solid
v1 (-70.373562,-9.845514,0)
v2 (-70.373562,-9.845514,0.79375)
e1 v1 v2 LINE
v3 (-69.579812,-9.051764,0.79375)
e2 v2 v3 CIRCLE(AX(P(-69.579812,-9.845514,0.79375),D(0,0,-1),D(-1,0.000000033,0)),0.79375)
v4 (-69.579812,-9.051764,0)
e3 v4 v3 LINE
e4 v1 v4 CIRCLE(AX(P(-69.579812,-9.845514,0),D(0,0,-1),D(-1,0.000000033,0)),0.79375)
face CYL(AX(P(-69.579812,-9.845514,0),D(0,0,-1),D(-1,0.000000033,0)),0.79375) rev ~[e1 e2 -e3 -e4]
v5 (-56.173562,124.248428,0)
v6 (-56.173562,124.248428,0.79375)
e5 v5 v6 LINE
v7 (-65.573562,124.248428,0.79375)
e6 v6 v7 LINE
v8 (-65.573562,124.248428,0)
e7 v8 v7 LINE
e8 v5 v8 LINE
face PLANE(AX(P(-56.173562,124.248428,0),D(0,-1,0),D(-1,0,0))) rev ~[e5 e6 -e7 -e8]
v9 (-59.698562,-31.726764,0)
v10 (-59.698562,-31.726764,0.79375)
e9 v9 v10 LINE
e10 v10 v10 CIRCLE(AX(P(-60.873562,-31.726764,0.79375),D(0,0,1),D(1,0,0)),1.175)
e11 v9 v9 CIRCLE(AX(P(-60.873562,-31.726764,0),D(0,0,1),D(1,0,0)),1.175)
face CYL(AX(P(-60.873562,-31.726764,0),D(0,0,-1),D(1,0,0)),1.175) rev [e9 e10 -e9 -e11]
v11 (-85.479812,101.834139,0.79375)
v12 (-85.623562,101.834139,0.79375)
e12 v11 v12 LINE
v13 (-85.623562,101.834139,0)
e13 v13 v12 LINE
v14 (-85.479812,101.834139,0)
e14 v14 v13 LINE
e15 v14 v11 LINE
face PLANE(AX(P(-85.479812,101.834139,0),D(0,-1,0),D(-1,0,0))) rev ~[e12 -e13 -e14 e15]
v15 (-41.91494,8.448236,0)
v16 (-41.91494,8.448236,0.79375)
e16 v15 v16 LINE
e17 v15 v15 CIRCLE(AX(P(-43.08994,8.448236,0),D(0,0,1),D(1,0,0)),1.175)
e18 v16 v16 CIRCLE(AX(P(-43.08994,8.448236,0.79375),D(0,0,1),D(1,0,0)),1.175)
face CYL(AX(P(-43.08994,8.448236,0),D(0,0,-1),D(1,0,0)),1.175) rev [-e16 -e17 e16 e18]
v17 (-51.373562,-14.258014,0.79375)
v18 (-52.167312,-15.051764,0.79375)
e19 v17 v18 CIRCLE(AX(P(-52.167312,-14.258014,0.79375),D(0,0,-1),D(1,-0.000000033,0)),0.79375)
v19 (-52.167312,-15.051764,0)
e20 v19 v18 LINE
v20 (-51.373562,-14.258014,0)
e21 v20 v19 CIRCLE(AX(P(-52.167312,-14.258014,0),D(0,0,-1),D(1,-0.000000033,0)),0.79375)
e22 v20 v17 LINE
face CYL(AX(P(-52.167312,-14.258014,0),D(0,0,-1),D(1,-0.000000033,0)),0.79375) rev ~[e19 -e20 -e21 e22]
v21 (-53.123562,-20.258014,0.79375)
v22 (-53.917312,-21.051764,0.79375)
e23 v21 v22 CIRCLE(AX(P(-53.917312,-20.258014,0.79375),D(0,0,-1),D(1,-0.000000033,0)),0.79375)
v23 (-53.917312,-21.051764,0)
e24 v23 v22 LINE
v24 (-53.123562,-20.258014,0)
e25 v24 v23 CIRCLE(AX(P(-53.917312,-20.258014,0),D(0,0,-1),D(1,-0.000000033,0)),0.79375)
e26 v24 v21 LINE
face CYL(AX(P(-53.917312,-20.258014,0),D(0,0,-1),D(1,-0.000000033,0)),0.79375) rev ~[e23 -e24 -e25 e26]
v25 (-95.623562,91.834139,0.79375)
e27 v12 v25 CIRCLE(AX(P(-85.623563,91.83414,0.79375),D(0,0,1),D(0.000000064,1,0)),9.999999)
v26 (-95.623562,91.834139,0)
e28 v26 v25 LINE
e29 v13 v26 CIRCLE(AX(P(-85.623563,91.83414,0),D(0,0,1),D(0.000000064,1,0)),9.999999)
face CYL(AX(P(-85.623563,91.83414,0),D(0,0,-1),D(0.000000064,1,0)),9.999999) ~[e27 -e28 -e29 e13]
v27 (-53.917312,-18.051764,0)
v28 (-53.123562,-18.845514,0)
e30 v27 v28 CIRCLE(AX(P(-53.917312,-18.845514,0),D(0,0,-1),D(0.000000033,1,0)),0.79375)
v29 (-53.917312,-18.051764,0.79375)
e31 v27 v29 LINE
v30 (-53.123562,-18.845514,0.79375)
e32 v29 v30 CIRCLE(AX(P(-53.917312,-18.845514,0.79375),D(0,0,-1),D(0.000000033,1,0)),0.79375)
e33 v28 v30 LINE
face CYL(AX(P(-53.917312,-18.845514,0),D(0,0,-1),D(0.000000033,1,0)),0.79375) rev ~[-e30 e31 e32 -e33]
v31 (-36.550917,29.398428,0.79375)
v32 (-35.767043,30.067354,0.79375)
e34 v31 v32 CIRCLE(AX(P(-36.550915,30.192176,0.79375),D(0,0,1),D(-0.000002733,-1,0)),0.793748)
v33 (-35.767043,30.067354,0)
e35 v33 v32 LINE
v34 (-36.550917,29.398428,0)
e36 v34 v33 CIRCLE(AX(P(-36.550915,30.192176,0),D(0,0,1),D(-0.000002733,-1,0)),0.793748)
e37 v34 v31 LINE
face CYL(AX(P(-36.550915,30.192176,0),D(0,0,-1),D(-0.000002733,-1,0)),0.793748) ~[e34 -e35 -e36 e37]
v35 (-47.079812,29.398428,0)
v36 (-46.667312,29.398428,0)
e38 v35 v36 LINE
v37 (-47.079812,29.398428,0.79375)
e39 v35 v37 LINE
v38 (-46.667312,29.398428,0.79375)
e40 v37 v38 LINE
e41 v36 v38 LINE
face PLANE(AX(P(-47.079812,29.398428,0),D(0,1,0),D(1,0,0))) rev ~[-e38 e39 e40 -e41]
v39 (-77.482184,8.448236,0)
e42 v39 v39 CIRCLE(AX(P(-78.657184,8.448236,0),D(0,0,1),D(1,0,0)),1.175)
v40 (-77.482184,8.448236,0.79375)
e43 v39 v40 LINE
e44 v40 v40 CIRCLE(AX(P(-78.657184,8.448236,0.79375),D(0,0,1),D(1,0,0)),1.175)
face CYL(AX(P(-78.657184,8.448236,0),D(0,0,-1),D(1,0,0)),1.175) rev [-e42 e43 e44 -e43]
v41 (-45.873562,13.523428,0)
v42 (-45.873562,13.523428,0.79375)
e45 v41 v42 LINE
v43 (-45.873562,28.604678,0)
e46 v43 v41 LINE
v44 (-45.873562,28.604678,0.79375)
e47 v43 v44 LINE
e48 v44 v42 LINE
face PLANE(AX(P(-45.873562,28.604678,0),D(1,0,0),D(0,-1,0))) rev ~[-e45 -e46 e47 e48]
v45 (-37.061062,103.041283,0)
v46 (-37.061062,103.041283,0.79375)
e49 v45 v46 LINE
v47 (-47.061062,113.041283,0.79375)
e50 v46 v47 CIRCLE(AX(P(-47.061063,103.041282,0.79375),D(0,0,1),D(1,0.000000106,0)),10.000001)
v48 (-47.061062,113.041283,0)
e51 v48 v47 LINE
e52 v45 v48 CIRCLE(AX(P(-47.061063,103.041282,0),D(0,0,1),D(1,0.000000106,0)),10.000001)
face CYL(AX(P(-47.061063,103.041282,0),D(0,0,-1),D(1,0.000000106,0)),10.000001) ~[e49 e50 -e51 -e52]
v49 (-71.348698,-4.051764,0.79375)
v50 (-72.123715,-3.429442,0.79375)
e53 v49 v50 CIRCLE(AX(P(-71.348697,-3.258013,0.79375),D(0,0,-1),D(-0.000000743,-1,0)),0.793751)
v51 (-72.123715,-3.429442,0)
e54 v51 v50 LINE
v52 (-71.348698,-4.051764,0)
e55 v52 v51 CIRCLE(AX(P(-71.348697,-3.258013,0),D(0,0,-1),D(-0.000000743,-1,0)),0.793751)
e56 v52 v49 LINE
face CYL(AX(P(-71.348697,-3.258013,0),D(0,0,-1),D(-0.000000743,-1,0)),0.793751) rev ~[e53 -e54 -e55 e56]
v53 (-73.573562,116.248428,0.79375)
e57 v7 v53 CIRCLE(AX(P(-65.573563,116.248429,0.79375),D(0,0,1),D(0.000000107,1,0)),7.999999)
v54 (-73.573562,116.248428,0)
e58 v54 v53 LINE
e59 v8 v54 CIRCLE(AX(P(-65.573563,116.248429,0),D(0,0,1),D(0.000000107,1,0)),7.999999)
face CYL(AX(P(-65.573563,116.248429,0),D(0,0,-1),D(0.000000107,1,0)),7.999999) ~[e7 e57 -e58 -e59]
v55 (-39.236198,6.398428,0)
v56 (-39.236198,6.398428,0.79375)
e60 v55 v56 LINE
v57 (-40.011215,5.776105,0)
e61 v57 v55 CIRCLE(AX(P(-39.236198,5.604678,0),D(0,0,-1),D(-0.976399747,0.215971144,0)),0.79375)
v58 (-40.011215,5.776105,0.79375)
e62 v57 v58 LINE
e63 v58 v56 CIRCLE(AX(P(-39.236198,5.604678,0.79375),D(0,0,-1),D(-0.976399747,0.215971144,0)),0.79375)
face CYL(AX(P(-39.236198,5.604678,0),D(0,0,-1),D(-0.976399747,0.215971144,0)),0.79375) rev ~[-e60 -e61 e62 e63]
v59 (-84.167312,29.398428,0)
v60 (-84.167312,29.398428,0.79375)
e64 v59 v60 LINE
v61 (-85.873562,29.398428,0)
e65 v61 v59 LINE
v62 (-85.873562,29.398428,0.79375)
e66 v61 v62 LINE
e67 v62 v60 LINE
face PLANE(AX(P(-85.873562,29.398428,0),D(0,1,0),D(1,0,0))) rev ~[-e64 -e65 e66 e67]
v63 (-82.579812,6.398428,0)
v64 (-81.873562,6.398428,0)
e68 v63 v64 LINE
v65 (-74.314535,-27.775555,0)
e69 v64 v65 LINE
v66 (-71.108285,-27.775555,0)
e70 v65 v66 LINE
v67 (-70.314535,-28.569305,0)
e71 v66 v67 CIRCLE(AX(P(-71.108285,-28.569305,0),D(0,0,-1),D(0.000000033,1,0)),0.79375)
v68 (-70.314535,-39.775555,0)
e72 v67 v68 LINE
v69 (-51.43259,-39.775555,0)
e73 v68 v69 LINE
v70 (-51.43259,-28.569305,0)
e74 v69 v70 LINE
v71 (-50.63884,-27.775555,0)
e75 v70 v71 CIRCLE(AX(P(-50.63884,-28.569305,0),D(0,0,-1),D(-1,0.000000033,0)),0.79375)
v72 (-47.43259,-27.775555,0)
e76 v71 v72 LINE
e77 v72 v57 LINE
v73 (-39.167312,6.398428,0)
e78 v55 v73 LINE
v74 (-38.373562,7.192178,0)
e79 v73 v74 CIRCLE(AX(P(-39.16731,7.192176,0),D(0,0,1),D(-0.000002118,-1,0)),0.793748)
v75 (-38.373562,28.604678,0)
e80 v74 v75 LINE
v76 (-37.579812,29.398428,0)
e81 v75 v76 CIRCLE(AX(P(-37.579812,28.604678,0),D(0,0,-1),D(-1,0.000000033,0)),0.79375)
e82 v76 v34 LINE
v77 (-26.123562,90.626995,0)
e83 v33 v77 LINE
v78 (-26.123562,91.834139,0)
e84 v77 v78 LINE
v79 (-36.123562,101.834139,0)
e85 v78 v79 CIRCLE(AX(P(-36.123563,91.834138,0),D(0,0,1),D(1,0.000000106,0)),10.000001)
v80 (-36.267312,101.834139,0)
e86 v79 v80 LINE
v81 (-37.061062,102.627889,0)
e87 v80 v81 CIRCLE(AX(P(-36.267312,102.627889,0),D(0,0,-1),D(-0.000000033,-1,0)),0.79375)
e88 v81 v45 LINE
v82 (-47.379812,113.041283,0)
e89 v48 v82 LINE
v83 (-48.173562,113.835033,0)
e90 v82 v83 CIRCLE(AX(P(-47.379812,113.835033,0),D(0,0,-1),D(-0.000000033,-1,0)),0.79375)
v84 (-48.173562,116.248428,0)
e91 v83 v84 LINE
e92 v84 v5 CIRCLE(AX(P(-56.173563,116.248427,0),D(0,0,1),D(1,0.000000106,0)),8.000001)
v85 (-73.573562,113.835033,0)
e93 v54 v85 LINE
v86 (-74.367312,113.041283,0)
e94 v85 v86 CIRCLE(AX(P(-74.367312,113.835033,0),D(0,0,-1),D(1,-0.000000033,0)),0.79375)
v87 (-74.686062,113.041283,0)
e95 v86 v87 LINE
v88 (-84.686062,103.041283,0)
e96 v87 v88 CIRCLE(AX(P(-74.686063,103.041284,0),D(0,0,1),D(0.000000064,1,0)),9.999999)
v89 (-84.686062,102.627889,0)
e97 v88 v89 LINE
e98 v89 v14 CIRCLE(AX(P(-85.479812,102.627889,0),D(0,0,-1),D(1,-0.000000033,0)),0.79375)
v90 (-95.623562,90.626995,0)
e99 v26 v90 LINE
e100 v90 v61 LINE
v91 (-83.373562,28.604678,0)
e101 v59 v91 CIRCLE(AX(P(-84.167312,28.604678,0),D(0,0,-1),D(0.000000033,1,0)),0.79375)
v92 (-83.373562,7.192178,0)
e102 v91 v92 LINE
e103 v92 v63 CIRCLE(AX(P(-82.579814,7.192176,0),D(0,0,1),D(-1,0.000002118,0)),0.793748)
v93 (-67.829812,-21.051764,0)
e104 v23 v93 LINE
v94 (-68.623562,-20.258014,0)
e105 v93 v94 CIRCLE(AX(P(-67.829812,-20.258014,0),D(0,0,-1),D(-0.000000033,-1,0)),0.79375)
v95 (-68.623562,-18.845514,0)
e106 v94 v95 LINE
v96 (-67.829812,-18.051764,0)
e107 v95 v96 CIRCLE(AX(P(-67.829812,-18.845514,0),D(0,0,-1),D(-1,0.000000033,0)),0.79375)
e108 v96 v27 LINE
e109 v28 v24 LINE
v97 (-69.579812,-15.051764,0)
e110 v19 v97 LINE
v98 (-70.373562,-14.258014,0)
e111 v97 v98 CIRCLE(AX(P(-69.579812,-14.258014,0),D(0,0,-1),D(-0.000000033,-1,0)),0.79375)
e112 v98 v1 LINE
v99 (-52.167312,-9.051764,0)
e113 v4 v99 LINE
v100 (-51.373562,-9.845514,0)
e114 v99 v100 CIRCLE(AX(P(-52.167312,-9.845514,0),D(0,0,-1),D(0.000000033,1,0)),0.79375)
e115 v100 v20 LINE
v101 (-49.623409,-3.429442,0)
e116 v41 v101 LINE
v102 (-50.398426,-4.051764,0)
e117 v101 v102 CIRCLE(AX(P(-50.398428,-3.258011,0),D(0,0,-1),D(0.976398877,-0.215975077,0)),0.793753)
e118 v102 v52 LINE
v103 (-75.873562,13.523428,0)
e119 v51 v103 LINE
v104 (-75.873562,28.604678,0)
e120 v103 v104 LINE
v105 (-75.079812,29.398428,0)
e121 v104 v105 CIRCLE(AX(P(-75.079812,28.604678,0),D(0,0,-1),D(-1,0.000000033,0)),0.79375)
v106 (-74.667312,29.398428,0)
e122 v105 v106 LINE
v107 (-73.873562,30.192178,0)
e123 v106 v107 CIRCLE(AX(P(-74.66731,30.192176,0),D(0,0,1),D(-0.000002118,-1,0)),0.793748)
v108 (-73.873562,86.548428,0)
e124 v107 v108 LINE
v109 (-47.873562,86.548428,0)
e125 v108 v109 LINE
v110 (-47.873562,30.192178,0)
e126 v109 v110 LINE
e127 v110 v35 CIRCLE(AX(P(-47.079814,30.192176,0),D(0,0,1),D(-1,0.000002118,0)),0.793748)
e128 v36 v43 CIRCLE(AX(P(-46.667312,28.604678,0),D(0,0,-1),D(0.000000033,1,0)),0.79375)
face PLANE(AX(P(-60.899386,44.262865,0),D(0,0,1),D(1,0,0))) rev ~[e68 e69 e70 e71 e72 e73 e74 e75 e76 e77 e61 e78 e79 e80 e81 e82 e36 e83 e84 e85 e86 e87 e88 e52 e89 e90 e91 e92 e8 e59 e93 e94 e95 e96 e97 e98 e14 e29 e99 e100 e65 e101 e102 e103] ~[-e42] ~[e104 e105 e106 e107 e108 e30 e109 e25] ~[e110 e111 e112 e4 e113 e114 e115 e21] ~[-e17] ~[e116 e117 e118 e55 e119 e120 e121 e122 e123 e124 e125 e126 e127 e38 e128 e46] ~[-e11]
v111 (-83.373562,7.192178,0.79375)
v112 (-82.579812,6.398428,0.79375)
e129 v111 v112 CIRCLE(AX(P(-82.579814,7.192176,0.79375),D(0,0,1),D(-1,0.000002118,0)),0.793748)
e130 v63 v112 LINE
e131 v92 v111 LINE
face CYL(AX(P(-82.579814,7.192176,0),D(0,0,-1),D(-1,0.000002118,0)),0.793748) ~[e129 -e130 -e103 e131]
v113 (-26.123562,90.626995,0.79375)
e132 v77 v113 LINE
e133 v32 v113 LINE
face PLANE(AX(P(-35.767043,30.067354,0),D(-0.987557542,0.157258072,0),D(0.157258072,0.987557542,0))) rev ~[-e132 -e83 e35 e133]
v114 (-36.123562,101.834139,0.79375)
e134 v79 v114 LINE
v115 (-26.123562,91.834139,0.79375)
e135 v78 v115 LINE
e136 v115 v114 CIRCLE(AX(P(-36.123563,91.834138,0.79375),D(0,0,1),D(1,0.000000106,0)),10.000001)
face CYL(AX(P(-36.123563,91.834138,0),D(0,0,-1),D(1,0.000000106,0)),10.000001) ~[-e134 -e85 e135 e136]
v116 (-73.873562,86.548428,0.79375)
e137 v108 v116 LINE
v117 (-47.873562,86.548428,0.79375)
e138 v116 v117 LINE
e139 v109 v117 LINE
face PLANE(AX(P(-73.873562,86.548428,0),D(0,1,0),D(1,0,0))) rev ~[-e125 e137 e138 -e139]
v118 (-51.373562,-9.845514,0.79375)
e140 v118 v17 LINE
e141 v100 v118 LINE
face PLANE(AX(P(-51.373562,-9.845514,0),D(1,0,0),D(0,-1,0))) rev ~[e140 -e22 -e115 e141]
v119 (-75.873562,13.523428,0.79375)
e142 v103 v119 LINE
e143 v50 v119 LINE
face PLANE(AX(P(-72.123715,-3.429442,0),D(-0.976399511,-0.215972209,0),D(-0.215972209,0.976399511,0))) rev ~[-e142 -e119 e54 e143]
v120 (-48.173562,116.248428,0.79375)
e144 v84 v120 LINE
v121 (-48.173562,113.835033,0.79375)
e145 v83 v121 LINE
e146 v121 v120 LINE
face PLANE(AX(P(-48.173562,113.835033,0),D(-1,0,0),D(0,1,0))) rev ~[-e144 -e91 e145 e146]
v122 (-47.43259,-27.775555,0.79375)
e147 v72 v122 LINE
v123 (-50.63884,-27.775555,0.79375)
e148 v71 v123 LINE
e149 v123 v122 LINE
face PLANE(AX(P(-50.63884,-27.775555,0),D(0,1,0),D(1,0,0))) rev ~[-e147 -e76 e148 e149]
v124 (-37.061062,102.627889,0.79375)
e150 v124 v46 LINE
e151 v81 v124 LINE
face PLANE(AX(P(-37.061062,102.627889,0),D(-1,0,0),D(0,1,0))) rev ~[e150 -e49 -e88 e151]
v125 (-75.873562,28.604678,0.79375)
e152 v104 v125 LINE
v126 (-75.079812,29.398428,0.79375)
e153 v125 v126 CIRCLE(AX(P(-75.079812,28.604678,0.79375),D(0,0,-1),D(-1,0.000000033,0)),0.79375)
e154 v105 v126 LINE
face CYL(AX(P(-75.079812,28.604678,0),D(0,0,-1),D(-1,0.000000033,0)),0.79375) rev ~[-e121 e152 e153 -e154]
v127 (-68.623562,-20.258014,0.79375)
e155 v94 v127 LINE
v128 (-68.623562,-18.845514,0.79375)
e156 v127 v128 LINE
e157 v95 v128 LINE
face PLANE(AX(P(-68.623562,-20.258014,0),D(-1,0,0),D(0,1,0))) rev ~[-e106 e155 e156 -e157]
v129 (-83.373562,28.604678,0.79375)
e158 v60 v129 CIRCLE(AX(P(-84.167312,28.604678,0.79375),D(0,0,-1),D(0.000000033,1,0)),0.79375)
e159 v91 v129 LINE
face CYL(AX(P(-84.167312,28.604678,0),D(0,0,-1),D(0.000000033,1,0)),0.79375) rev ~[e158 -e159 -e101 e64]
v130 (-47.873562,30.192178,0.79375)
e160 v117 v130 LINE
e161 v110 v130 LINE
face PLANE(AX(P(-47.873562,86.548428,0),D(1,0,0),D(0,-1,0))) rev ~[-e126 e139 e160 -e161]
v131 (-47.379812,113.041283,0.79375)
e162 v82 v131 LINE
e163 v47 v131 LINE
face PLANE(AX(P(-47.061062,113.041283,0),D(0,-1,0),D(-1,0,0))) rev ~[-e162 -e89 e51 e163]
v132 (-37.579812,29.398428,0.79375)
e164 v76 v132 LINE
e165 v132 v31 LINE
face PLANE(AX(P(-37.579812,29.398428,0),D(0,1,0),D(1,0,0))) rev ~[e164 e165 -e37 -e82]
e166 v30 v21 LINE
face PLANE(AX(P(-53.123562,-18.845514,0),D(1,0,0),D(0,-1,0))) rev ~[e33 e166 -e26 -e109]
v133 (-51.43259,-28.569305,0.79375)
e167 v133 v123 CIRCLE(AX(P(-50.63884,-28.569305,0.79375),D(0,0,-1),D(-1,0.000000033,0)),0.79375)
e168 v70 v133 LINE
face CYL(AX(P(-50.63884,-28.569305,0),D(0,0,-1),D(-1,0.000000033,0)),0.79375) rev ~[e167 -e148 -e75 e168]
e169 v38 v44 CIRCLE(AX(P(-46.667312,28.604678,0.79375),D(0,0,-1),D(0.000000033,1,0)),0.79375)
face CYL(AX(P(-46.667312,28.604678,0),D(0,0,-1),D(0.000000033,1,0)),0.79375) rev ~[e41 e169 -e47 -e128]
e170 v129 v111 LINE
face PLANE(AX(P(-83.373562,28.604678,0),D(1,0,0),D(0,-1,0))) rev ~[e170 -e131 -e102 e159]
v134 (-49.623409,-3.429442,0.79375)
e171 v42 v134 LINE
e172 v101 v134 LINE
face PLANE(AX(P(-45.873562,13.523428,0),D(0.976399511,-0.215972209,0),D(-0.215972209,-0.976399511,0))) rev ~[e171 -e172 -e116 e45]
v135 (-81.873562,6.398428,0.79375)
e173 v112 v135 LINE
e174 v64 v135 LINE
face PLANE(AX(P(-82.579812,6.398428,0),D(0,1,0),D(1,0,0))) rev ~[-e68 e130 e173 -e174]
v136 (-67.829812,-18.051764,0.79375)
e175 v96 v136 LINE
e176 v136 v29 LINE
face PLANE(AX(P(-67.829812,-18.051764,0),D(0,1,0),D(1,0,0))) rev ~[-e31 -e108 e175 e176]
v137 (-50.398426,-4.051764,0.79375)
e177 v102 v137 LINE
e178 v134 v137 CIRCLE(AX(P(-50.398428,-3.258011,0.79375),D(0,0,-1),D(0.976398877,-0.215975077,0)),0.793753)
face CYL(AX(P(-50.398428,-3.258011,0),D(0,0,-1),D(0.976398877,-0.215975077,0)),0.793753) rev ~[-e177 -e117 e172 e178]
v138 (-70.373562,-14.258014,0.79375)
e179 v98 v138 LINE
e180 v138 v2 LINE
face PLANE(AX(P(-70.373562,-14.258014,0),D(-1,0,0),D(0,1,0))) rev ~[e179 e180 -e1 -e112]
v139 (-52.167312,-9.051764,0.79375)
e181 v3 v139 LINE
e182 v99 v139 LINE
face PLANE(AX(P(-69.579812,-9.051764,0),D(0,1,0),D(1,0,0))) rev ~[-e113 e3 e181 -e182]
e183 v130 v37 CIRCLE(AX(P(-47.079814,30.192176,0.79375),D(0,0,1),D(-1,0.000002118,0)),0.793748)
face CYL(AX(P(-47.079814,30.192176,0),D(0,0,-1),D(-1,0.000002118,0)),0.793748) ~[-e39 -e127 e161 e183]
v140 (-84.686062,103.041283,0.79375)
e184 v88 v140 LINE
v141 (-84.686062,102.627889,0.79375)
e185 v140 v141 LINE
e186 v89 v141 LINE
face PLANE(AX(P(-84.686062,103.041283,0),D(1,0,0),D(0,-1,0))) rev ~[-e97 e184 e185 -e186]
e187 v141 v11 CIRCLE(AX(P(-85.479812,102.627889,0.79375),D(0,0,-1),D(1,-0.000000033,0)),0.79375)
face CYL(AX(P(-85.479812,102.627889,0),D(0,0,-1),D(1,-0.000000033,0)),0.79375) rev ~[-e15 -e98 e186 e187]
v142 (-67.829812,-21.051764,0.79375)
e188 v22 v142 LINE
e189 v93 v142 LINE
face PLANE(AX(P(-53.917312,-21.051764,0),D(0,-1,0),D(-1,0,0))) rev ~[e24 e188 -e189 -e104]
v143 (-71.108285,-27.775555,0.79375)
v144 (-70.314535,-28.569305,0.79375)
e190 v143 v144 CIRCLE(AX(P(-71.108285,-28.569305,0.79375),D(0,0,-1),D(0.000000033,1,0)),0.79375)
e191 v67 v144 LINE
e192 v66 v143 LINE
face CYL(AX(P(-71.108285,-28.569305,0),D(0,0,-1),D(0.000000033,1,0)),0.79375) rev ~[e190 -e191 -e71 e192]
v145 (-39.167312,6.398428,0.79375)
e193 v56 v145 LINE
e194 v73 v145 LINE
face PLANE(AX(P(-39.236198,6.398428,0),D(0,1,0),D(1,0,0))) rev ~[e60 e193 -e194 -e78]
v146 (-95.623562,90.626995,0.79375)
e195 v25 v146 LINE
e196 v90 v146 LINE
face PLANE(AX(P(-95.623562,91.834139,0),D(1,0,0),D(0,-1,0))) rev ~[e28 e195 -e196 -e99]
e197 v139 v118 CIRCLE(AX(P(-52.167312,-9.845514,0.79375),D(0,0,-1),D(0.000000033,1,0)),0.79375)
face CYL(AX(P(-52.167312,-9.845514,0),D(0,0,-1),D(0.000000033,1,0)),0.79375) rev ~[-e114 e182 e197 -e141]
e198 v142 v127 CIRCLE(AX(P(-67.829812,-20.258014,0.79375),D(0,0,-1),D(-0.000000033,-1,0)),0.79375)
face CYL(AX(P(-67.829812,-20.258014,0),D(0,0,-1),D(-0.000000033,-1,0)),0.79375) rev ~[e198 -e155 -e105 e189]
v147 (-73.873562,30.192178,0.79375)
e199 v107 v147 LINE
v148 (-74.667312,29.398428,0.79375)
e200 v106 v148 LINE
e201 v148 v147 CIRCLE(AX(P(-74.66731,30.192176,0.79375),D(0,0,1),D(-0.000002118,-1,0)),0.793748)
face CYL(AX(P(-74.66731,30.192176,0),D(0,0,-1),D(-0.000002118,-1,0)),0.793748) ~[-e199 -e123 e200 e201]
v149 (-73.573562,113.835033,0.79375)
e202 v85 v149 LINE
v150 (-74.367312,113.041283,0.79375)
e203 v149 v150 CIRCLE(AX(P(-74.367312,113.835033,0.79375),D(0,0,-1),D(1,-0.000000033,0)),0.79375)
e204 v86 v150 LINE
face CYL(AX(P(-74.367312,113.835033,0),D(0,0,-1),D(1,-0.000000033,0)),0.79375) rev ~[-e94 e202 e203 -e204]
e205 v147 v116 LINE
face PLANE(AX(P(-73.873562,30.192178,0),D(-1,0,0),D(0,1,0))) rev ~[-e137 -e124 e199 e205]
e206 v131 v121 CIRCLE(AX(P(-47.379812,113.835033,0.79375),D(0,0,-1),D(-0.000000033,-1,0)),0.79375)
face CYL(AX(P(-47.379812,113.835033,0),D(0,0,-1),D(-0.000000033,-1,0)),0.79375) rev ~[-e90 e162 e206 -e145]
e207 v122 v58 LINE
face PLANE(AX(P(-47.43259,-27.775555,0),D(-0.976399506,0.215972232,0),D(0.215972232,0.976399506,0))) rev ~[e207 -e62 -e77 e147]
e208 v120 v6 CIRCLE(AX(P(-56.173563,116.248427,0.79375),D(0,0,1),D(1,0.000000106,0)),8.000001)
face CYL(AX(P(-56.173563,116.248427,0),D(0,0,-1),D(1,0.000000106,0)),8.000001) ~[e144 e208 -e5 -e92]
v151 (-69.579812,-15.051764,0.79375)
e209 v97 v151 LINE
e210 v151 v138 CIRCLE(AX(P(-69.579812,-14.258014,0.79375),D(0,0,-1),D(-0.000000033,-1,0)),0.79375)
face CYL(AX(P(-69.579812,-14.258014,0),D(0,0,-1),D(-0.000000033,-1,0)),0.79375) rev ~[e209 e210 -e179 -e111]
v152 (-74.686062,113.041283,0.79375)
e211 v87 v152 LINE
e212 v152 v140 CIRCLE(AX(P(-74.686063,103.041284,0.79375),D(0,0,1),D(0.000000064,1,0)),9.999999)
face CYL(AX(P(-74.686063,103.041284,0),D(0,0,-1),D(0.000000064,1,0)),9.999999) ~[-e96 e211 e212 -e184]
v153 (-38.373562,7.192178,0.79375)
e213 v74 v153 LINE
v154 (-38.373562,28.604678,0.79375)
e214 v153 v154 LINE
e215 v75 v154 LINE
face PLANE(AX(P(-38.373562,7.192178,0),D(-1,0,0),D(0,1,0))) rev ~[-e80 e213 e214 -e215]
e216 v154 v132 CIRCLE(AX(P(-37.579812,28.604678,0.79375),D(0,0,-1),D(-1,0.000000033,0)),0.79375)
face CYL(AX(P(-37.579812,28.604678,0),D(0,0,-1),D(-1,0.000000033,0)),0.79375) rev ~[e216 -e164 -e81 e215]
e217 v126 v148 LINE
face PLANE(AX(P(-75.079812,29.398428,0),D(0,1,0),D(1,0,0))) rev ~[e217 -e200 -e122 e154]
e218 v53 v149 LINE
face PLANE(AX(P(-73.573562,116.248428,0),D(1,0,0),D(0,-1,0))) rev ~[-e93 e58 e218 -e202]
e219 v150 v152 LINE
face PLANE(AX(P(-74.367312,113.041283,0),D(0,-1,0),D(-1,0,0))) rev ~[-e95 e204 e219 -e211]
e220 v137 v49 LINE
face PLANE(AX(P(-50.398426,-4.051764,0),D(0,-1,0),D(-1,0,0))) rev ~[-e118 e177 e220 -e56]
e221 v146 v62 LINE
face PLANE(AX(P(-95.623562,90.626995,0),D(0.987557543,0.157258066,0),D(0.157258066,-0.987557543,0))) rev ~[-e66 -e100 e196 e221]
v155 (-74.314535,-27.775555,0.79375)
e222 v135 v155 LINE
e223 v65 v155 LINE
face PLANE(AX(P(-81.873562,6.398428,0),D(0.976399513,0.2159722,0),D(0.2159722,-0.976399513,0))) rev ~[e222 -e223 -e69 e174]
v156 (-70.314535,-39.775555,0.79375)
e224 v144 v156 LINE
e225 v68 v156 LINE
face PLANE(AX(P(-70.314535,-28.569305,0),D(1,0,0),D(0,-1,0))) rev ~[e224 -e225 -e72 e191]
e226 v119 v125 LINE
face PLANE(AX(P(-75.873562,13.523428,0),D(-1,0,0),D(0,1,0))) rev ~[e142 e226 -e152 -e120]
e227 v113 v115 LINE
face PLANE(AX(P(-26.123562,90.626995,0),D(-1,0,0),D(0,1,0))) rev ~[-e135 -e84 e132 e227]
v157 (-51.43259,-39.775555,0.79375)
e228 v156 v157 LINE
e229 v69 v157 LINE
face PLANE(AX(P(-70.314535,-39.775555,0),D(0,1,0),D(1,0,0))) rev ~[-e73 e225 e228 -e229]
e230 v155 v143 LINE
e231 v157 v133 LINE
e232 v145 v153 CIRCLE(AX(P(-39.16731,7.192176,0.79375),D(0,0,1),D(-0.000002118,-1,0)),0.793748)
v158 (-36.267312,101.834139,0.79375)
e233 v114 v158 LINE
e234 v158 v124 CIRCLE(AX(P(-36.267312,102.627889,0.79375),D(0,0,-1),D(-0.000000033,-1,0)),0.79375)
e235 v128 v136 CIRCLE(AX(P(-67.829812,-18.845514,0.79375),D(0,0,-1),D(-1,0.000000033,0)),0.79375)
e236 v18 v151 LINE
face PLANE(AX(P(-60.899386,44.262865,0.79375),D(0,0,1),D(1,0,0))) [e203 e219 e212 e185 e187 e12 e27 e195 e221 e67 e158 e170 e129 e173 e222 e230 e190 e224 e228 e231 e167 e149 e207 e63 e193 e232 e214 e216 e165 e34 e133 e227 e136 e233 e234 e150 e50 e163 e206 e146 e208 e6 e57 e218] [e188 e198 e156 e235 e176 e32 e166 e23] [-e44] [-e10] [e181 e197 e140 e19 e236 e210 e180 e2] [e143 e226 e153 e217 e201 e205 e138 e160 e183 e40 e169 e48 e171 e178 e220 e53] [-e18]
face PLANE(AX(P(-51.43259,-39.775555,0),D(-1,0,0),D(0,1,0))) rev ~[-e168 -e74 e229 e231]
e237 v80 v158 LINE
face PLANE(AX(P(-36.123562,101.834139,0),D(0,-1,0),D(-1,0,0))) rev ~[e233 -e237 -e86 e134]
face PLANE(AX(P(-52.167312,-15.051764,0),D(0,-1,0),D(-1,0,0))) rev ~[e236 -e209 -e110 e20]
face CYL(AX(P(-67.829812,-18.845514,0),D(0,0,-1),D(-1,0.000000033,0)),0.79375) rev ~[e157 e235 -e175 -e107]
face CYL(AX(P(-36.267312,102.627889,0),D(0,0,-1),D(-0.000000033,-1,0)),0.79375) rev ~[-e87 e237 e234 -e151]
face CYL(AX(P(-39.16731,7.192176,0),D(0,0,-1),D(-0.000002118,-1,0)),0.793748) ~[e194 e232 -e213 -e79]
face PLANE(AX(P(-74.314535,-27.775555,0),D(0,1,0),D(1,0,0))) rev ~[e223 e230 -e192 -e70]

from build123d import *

# Parameters (mm, degrees)
F0_R     = 1.175
F1_DEPTH = 0.79375


with BuildPart() as f1:
    # F0 (on Top) → F1 (new body)
    with BuildSketch(Plane.XY):
        with BuildLine():
            Line((-95.623562, 91.834139), (-95.623562, 90.626995))
            Line((-95.623562, 90.626995), (-85.873562, 29.398428))
            Line((-85.873562, 29.398428), (-84.167312, 29.398428))
            ThreePointArc((-84.167312, 29.398428), (-83.606046, 29.165944), (-83.373562, 28.604678))
            Line((-83.373562, 28.604678), (-83.373562, 7.192178))
            ThreePointArc((-83.373562, 7.192178), (-83.141078, 6.630911), (-82.579812, 6.398428))
            Line((-82.579812, 6.398428), (-81.873562, 6.398428))
            Line((-81.873562, 6.398428), (-74.314535, -27.775555))
            Line((-74.314535, -27.775555), (-71.108285, -27.775555))
            ThreePointArc((-71.108285, -27.775555), (-70.547019, -28.008039), (-70.314535, -28.569305))
            Line((-70.314535, -28.569305), (-70.314535, -39.775555))
            Line((-70.314535, -39.775555), (-51.43259, -39.775555))
            Line((-51.43259, -39.775555), (-51.43259, -28.569305))
            ThreePointArc((-51.43259, -28.569305), (-51.200106, -28.008039), (-50.63884, -27.775555))
            Line((-50.63884, -27.775555), (-47.43259, -27.775555))
            Line((-47.43259, -27.775555), (-40.011215, 5.776105))
            ThreePointArc((-40.011215, 5.776105), (-39.733173, 6.223592), (-39.236198, 6.398428))
            Line((-39.236198, 6.398428), (-39.167312, 6.398428))
            ThreePointArc((-39.167312, 6.398428), (-38.606046, 6.630911), (-38.373562, 7.192178))
            Line((-38.373562, 7.192178), (-38.373562, 28.604678))
            ThreePointArc((-38.373562, 28.604678), (-38.141078, 29.165944), (-37.579812, 29.398428))
            Line((-37.579812, 29.398428), (-36.550917, 29.398428))
            ThreePointArc((-36.550917, 29.398428), (-36.035669, 29.58839), (-35.767043, 30.067354))
            Line((-35.767043, 30.067354), (-26.123562, 90.626995))
            Line((-26.123562, 90.626995), (-26.123562, 91.834139))
            ThreePointArc((-26.123562, 91.834139), (-29.052495, 98.905207), (-36.123562, 101.834139))
            Line((-36.123562, 101.834139), (-36.267312, 101.834139))
            ThreePointArc((-36.267312, 101.834139), (-36.828578, 102.066623), (-37.061062, 102.627889))
            Line((-37.061062, 102.627889), (-37.061062, 103.041283))
            ThreePointArc((-37.061062, 103.041283), (-39.989995, 110.112351), (-47.061062, 113.041283))
            Line((-47.061062, 113.041283), (-47.379812, 113.041283))
            ThreePointArc((-47.379812, 113.041283), (-47.941078, 113.273767), (-48.173562, 113.835033))
            Line((-48.173562, 113.835033), (-48.173562, 116.248428))
            ThreePointArc((-48.173562, 116.248428), (-50.516708, 121.905282), (-56.173562, 124.248428))
            Line((-56.173562, 124.248428), (-65.573562, 124.248428))
            ThreePointArc((-65.573562, 124.248428), (-71.230417, 121.905282), (-73.573562, 116.248428))
            Line((-73.573562, 116.248428), (-73.573562, 113.835033))
            ThreePointArc((-73.573562, 113.835033), (-73.806046, 113.273767), (-74.367312, 113.041283))
            Line((-74.367312, 113.041283), (-74.686062, 113.041283))
            ThreePointArc((-74.686062, 113.041283), (-81.75713, 110.112351), (-84.686062, 103.041283))
            Line((-84.686062, 103.041283), (-84.686062, 102.627889))
            ThreePointArc((-84.686062, 102.627889), (-84.918546, 102.066623), (-85.479812, 101.834139))
            Line((-85.479812, 101.834139), (-85.623562, 101.834139))
            ThreePointArc((-85.623562, 101.834139), (-92.69463, 98.905207), (-95.623562, 91.834139))
        make_face()
        with Locations((-78.657184, 8.448236)):
            Circle(F0_R, mode=Mode.SUBTRACT)
        with Locations((-60.873562, -31.726764)):
            Circle(F0_R, mode=Mode.SUBTRACT)
        with BuildLine():
            Line((-67.829812, -18.051764), (-53.917312, -18.051764))
            ThreePointArc((-53.917312, -18.051764), (-53.356046, -18.284248), (-53.123562, -18.845514))
            Line((-53.123562, -18.845514), (-53.123562, -20.258014))
            ThreePointArc((-53.123562, -20.258014), (-53.356046, -20.81928), (-53.917312, -21.051764))
            Line((-53.917312, -21.051764), (-67.829812, -21.051764))
            ThreePointArc((-67.829812, -21.051764), (-68.391078, -20.81928), (-68.623562, -20.258014))
            Line((-68.623562, -20.258014), (-68.623562, -18.845514))
            ThreePointArc((-68.623562, -18.845514), (-68.391078, -18.284248), (-67.829812, -18.051764))
        make_face(mode=Mode.SUBTRACT)
        with BuildLine():
            Line((-69.579812, -9.051764), (-52.167312, -9.051764))
            ThreePointArc((-52.167312, -9.051764), (-51.606046, -9.284248), (-51.373562, -9.845514))
            Line((-51.373562, -9.845514), (-51.373562, -14.258014))
            ThreePointArc((-51.373562, -14.258014), (-51.606046, -14.81928), (-52.167312, -15.051764))
            Line((-52.167312, -15.051764), (-69.579812, -15.051764))
            ThreePointArc((-69.579812, -15.051764), (-70.141078, -14.81928), (-70.373562, -14.258014))
            Line((-70.373562, -14.258014), (-70.373562, -9.845514))
            ThreePointArc((-70.373562, -9.845514), (-70.141078, -9.284248), (-69.579812, -9.051764))
        make_face(mode=Mode.SUBTRACT)
        with BuildLine():
            Line((-73.873562, 30.192178), (-73.873562, 86.548428))
            Line((-73.873562, 86.548428), (-47.873562, 86.548428))
            Line((-47.873562, 86.548428), (-47.873562, 30.192178))
            ThreePointArc((-47.873562, 30.192178), (-47.641078, 29.630911), (-47.079812, 29.398428))
            Line((-47.079812, 29.398428), (-46.667312, 29.398428))
            ThreePointArc((-46.667312, 29.398428), (-46.106046, 29.165944), (-45.873562, 28.604678))
            Line((-45.873562, 28.604678), (-45.873562, 13.523428))
            Line((-45.873562, 13.523428), (-49.623409, -3.429442))
            ThreePointArc((-49.623409, -3.429442), (-49.901452, -3.876928), (-50.398426, -4.051764))
            Line((-50.398426, -4.051764), (-71.348698, -4.051764))
            ThreePointArc((-71.348698, -4.051764), (-71.845673, -3.876928), (-72.123715, -3.429442))
            Line((-72.123715, -3.429442), (-75.873562, 13.523428))
            Line((-75.873562, 13.523428), (-75.873562, 28.604678))
            ThreePointArc((-75.873562, 28.604678), (-75.641078, 29.165944), (-75.079812, 29.398428))
            Line((-75.079812, 29.398428), (-74.667312, 29.398428))
            ThreePointArc((-74.667312, 29.398428), (-74.106046, 29.630911), (-73.873562, 30.192178))
        make_face(mode=Mode.SUBTRACT)
        with Locations((-43.08994, 8.448236)):
            Circle(F0_R, mode=Mode.SUBTRACT)
    extrude(amount=F1_DEPTH)


solid = f1.part
